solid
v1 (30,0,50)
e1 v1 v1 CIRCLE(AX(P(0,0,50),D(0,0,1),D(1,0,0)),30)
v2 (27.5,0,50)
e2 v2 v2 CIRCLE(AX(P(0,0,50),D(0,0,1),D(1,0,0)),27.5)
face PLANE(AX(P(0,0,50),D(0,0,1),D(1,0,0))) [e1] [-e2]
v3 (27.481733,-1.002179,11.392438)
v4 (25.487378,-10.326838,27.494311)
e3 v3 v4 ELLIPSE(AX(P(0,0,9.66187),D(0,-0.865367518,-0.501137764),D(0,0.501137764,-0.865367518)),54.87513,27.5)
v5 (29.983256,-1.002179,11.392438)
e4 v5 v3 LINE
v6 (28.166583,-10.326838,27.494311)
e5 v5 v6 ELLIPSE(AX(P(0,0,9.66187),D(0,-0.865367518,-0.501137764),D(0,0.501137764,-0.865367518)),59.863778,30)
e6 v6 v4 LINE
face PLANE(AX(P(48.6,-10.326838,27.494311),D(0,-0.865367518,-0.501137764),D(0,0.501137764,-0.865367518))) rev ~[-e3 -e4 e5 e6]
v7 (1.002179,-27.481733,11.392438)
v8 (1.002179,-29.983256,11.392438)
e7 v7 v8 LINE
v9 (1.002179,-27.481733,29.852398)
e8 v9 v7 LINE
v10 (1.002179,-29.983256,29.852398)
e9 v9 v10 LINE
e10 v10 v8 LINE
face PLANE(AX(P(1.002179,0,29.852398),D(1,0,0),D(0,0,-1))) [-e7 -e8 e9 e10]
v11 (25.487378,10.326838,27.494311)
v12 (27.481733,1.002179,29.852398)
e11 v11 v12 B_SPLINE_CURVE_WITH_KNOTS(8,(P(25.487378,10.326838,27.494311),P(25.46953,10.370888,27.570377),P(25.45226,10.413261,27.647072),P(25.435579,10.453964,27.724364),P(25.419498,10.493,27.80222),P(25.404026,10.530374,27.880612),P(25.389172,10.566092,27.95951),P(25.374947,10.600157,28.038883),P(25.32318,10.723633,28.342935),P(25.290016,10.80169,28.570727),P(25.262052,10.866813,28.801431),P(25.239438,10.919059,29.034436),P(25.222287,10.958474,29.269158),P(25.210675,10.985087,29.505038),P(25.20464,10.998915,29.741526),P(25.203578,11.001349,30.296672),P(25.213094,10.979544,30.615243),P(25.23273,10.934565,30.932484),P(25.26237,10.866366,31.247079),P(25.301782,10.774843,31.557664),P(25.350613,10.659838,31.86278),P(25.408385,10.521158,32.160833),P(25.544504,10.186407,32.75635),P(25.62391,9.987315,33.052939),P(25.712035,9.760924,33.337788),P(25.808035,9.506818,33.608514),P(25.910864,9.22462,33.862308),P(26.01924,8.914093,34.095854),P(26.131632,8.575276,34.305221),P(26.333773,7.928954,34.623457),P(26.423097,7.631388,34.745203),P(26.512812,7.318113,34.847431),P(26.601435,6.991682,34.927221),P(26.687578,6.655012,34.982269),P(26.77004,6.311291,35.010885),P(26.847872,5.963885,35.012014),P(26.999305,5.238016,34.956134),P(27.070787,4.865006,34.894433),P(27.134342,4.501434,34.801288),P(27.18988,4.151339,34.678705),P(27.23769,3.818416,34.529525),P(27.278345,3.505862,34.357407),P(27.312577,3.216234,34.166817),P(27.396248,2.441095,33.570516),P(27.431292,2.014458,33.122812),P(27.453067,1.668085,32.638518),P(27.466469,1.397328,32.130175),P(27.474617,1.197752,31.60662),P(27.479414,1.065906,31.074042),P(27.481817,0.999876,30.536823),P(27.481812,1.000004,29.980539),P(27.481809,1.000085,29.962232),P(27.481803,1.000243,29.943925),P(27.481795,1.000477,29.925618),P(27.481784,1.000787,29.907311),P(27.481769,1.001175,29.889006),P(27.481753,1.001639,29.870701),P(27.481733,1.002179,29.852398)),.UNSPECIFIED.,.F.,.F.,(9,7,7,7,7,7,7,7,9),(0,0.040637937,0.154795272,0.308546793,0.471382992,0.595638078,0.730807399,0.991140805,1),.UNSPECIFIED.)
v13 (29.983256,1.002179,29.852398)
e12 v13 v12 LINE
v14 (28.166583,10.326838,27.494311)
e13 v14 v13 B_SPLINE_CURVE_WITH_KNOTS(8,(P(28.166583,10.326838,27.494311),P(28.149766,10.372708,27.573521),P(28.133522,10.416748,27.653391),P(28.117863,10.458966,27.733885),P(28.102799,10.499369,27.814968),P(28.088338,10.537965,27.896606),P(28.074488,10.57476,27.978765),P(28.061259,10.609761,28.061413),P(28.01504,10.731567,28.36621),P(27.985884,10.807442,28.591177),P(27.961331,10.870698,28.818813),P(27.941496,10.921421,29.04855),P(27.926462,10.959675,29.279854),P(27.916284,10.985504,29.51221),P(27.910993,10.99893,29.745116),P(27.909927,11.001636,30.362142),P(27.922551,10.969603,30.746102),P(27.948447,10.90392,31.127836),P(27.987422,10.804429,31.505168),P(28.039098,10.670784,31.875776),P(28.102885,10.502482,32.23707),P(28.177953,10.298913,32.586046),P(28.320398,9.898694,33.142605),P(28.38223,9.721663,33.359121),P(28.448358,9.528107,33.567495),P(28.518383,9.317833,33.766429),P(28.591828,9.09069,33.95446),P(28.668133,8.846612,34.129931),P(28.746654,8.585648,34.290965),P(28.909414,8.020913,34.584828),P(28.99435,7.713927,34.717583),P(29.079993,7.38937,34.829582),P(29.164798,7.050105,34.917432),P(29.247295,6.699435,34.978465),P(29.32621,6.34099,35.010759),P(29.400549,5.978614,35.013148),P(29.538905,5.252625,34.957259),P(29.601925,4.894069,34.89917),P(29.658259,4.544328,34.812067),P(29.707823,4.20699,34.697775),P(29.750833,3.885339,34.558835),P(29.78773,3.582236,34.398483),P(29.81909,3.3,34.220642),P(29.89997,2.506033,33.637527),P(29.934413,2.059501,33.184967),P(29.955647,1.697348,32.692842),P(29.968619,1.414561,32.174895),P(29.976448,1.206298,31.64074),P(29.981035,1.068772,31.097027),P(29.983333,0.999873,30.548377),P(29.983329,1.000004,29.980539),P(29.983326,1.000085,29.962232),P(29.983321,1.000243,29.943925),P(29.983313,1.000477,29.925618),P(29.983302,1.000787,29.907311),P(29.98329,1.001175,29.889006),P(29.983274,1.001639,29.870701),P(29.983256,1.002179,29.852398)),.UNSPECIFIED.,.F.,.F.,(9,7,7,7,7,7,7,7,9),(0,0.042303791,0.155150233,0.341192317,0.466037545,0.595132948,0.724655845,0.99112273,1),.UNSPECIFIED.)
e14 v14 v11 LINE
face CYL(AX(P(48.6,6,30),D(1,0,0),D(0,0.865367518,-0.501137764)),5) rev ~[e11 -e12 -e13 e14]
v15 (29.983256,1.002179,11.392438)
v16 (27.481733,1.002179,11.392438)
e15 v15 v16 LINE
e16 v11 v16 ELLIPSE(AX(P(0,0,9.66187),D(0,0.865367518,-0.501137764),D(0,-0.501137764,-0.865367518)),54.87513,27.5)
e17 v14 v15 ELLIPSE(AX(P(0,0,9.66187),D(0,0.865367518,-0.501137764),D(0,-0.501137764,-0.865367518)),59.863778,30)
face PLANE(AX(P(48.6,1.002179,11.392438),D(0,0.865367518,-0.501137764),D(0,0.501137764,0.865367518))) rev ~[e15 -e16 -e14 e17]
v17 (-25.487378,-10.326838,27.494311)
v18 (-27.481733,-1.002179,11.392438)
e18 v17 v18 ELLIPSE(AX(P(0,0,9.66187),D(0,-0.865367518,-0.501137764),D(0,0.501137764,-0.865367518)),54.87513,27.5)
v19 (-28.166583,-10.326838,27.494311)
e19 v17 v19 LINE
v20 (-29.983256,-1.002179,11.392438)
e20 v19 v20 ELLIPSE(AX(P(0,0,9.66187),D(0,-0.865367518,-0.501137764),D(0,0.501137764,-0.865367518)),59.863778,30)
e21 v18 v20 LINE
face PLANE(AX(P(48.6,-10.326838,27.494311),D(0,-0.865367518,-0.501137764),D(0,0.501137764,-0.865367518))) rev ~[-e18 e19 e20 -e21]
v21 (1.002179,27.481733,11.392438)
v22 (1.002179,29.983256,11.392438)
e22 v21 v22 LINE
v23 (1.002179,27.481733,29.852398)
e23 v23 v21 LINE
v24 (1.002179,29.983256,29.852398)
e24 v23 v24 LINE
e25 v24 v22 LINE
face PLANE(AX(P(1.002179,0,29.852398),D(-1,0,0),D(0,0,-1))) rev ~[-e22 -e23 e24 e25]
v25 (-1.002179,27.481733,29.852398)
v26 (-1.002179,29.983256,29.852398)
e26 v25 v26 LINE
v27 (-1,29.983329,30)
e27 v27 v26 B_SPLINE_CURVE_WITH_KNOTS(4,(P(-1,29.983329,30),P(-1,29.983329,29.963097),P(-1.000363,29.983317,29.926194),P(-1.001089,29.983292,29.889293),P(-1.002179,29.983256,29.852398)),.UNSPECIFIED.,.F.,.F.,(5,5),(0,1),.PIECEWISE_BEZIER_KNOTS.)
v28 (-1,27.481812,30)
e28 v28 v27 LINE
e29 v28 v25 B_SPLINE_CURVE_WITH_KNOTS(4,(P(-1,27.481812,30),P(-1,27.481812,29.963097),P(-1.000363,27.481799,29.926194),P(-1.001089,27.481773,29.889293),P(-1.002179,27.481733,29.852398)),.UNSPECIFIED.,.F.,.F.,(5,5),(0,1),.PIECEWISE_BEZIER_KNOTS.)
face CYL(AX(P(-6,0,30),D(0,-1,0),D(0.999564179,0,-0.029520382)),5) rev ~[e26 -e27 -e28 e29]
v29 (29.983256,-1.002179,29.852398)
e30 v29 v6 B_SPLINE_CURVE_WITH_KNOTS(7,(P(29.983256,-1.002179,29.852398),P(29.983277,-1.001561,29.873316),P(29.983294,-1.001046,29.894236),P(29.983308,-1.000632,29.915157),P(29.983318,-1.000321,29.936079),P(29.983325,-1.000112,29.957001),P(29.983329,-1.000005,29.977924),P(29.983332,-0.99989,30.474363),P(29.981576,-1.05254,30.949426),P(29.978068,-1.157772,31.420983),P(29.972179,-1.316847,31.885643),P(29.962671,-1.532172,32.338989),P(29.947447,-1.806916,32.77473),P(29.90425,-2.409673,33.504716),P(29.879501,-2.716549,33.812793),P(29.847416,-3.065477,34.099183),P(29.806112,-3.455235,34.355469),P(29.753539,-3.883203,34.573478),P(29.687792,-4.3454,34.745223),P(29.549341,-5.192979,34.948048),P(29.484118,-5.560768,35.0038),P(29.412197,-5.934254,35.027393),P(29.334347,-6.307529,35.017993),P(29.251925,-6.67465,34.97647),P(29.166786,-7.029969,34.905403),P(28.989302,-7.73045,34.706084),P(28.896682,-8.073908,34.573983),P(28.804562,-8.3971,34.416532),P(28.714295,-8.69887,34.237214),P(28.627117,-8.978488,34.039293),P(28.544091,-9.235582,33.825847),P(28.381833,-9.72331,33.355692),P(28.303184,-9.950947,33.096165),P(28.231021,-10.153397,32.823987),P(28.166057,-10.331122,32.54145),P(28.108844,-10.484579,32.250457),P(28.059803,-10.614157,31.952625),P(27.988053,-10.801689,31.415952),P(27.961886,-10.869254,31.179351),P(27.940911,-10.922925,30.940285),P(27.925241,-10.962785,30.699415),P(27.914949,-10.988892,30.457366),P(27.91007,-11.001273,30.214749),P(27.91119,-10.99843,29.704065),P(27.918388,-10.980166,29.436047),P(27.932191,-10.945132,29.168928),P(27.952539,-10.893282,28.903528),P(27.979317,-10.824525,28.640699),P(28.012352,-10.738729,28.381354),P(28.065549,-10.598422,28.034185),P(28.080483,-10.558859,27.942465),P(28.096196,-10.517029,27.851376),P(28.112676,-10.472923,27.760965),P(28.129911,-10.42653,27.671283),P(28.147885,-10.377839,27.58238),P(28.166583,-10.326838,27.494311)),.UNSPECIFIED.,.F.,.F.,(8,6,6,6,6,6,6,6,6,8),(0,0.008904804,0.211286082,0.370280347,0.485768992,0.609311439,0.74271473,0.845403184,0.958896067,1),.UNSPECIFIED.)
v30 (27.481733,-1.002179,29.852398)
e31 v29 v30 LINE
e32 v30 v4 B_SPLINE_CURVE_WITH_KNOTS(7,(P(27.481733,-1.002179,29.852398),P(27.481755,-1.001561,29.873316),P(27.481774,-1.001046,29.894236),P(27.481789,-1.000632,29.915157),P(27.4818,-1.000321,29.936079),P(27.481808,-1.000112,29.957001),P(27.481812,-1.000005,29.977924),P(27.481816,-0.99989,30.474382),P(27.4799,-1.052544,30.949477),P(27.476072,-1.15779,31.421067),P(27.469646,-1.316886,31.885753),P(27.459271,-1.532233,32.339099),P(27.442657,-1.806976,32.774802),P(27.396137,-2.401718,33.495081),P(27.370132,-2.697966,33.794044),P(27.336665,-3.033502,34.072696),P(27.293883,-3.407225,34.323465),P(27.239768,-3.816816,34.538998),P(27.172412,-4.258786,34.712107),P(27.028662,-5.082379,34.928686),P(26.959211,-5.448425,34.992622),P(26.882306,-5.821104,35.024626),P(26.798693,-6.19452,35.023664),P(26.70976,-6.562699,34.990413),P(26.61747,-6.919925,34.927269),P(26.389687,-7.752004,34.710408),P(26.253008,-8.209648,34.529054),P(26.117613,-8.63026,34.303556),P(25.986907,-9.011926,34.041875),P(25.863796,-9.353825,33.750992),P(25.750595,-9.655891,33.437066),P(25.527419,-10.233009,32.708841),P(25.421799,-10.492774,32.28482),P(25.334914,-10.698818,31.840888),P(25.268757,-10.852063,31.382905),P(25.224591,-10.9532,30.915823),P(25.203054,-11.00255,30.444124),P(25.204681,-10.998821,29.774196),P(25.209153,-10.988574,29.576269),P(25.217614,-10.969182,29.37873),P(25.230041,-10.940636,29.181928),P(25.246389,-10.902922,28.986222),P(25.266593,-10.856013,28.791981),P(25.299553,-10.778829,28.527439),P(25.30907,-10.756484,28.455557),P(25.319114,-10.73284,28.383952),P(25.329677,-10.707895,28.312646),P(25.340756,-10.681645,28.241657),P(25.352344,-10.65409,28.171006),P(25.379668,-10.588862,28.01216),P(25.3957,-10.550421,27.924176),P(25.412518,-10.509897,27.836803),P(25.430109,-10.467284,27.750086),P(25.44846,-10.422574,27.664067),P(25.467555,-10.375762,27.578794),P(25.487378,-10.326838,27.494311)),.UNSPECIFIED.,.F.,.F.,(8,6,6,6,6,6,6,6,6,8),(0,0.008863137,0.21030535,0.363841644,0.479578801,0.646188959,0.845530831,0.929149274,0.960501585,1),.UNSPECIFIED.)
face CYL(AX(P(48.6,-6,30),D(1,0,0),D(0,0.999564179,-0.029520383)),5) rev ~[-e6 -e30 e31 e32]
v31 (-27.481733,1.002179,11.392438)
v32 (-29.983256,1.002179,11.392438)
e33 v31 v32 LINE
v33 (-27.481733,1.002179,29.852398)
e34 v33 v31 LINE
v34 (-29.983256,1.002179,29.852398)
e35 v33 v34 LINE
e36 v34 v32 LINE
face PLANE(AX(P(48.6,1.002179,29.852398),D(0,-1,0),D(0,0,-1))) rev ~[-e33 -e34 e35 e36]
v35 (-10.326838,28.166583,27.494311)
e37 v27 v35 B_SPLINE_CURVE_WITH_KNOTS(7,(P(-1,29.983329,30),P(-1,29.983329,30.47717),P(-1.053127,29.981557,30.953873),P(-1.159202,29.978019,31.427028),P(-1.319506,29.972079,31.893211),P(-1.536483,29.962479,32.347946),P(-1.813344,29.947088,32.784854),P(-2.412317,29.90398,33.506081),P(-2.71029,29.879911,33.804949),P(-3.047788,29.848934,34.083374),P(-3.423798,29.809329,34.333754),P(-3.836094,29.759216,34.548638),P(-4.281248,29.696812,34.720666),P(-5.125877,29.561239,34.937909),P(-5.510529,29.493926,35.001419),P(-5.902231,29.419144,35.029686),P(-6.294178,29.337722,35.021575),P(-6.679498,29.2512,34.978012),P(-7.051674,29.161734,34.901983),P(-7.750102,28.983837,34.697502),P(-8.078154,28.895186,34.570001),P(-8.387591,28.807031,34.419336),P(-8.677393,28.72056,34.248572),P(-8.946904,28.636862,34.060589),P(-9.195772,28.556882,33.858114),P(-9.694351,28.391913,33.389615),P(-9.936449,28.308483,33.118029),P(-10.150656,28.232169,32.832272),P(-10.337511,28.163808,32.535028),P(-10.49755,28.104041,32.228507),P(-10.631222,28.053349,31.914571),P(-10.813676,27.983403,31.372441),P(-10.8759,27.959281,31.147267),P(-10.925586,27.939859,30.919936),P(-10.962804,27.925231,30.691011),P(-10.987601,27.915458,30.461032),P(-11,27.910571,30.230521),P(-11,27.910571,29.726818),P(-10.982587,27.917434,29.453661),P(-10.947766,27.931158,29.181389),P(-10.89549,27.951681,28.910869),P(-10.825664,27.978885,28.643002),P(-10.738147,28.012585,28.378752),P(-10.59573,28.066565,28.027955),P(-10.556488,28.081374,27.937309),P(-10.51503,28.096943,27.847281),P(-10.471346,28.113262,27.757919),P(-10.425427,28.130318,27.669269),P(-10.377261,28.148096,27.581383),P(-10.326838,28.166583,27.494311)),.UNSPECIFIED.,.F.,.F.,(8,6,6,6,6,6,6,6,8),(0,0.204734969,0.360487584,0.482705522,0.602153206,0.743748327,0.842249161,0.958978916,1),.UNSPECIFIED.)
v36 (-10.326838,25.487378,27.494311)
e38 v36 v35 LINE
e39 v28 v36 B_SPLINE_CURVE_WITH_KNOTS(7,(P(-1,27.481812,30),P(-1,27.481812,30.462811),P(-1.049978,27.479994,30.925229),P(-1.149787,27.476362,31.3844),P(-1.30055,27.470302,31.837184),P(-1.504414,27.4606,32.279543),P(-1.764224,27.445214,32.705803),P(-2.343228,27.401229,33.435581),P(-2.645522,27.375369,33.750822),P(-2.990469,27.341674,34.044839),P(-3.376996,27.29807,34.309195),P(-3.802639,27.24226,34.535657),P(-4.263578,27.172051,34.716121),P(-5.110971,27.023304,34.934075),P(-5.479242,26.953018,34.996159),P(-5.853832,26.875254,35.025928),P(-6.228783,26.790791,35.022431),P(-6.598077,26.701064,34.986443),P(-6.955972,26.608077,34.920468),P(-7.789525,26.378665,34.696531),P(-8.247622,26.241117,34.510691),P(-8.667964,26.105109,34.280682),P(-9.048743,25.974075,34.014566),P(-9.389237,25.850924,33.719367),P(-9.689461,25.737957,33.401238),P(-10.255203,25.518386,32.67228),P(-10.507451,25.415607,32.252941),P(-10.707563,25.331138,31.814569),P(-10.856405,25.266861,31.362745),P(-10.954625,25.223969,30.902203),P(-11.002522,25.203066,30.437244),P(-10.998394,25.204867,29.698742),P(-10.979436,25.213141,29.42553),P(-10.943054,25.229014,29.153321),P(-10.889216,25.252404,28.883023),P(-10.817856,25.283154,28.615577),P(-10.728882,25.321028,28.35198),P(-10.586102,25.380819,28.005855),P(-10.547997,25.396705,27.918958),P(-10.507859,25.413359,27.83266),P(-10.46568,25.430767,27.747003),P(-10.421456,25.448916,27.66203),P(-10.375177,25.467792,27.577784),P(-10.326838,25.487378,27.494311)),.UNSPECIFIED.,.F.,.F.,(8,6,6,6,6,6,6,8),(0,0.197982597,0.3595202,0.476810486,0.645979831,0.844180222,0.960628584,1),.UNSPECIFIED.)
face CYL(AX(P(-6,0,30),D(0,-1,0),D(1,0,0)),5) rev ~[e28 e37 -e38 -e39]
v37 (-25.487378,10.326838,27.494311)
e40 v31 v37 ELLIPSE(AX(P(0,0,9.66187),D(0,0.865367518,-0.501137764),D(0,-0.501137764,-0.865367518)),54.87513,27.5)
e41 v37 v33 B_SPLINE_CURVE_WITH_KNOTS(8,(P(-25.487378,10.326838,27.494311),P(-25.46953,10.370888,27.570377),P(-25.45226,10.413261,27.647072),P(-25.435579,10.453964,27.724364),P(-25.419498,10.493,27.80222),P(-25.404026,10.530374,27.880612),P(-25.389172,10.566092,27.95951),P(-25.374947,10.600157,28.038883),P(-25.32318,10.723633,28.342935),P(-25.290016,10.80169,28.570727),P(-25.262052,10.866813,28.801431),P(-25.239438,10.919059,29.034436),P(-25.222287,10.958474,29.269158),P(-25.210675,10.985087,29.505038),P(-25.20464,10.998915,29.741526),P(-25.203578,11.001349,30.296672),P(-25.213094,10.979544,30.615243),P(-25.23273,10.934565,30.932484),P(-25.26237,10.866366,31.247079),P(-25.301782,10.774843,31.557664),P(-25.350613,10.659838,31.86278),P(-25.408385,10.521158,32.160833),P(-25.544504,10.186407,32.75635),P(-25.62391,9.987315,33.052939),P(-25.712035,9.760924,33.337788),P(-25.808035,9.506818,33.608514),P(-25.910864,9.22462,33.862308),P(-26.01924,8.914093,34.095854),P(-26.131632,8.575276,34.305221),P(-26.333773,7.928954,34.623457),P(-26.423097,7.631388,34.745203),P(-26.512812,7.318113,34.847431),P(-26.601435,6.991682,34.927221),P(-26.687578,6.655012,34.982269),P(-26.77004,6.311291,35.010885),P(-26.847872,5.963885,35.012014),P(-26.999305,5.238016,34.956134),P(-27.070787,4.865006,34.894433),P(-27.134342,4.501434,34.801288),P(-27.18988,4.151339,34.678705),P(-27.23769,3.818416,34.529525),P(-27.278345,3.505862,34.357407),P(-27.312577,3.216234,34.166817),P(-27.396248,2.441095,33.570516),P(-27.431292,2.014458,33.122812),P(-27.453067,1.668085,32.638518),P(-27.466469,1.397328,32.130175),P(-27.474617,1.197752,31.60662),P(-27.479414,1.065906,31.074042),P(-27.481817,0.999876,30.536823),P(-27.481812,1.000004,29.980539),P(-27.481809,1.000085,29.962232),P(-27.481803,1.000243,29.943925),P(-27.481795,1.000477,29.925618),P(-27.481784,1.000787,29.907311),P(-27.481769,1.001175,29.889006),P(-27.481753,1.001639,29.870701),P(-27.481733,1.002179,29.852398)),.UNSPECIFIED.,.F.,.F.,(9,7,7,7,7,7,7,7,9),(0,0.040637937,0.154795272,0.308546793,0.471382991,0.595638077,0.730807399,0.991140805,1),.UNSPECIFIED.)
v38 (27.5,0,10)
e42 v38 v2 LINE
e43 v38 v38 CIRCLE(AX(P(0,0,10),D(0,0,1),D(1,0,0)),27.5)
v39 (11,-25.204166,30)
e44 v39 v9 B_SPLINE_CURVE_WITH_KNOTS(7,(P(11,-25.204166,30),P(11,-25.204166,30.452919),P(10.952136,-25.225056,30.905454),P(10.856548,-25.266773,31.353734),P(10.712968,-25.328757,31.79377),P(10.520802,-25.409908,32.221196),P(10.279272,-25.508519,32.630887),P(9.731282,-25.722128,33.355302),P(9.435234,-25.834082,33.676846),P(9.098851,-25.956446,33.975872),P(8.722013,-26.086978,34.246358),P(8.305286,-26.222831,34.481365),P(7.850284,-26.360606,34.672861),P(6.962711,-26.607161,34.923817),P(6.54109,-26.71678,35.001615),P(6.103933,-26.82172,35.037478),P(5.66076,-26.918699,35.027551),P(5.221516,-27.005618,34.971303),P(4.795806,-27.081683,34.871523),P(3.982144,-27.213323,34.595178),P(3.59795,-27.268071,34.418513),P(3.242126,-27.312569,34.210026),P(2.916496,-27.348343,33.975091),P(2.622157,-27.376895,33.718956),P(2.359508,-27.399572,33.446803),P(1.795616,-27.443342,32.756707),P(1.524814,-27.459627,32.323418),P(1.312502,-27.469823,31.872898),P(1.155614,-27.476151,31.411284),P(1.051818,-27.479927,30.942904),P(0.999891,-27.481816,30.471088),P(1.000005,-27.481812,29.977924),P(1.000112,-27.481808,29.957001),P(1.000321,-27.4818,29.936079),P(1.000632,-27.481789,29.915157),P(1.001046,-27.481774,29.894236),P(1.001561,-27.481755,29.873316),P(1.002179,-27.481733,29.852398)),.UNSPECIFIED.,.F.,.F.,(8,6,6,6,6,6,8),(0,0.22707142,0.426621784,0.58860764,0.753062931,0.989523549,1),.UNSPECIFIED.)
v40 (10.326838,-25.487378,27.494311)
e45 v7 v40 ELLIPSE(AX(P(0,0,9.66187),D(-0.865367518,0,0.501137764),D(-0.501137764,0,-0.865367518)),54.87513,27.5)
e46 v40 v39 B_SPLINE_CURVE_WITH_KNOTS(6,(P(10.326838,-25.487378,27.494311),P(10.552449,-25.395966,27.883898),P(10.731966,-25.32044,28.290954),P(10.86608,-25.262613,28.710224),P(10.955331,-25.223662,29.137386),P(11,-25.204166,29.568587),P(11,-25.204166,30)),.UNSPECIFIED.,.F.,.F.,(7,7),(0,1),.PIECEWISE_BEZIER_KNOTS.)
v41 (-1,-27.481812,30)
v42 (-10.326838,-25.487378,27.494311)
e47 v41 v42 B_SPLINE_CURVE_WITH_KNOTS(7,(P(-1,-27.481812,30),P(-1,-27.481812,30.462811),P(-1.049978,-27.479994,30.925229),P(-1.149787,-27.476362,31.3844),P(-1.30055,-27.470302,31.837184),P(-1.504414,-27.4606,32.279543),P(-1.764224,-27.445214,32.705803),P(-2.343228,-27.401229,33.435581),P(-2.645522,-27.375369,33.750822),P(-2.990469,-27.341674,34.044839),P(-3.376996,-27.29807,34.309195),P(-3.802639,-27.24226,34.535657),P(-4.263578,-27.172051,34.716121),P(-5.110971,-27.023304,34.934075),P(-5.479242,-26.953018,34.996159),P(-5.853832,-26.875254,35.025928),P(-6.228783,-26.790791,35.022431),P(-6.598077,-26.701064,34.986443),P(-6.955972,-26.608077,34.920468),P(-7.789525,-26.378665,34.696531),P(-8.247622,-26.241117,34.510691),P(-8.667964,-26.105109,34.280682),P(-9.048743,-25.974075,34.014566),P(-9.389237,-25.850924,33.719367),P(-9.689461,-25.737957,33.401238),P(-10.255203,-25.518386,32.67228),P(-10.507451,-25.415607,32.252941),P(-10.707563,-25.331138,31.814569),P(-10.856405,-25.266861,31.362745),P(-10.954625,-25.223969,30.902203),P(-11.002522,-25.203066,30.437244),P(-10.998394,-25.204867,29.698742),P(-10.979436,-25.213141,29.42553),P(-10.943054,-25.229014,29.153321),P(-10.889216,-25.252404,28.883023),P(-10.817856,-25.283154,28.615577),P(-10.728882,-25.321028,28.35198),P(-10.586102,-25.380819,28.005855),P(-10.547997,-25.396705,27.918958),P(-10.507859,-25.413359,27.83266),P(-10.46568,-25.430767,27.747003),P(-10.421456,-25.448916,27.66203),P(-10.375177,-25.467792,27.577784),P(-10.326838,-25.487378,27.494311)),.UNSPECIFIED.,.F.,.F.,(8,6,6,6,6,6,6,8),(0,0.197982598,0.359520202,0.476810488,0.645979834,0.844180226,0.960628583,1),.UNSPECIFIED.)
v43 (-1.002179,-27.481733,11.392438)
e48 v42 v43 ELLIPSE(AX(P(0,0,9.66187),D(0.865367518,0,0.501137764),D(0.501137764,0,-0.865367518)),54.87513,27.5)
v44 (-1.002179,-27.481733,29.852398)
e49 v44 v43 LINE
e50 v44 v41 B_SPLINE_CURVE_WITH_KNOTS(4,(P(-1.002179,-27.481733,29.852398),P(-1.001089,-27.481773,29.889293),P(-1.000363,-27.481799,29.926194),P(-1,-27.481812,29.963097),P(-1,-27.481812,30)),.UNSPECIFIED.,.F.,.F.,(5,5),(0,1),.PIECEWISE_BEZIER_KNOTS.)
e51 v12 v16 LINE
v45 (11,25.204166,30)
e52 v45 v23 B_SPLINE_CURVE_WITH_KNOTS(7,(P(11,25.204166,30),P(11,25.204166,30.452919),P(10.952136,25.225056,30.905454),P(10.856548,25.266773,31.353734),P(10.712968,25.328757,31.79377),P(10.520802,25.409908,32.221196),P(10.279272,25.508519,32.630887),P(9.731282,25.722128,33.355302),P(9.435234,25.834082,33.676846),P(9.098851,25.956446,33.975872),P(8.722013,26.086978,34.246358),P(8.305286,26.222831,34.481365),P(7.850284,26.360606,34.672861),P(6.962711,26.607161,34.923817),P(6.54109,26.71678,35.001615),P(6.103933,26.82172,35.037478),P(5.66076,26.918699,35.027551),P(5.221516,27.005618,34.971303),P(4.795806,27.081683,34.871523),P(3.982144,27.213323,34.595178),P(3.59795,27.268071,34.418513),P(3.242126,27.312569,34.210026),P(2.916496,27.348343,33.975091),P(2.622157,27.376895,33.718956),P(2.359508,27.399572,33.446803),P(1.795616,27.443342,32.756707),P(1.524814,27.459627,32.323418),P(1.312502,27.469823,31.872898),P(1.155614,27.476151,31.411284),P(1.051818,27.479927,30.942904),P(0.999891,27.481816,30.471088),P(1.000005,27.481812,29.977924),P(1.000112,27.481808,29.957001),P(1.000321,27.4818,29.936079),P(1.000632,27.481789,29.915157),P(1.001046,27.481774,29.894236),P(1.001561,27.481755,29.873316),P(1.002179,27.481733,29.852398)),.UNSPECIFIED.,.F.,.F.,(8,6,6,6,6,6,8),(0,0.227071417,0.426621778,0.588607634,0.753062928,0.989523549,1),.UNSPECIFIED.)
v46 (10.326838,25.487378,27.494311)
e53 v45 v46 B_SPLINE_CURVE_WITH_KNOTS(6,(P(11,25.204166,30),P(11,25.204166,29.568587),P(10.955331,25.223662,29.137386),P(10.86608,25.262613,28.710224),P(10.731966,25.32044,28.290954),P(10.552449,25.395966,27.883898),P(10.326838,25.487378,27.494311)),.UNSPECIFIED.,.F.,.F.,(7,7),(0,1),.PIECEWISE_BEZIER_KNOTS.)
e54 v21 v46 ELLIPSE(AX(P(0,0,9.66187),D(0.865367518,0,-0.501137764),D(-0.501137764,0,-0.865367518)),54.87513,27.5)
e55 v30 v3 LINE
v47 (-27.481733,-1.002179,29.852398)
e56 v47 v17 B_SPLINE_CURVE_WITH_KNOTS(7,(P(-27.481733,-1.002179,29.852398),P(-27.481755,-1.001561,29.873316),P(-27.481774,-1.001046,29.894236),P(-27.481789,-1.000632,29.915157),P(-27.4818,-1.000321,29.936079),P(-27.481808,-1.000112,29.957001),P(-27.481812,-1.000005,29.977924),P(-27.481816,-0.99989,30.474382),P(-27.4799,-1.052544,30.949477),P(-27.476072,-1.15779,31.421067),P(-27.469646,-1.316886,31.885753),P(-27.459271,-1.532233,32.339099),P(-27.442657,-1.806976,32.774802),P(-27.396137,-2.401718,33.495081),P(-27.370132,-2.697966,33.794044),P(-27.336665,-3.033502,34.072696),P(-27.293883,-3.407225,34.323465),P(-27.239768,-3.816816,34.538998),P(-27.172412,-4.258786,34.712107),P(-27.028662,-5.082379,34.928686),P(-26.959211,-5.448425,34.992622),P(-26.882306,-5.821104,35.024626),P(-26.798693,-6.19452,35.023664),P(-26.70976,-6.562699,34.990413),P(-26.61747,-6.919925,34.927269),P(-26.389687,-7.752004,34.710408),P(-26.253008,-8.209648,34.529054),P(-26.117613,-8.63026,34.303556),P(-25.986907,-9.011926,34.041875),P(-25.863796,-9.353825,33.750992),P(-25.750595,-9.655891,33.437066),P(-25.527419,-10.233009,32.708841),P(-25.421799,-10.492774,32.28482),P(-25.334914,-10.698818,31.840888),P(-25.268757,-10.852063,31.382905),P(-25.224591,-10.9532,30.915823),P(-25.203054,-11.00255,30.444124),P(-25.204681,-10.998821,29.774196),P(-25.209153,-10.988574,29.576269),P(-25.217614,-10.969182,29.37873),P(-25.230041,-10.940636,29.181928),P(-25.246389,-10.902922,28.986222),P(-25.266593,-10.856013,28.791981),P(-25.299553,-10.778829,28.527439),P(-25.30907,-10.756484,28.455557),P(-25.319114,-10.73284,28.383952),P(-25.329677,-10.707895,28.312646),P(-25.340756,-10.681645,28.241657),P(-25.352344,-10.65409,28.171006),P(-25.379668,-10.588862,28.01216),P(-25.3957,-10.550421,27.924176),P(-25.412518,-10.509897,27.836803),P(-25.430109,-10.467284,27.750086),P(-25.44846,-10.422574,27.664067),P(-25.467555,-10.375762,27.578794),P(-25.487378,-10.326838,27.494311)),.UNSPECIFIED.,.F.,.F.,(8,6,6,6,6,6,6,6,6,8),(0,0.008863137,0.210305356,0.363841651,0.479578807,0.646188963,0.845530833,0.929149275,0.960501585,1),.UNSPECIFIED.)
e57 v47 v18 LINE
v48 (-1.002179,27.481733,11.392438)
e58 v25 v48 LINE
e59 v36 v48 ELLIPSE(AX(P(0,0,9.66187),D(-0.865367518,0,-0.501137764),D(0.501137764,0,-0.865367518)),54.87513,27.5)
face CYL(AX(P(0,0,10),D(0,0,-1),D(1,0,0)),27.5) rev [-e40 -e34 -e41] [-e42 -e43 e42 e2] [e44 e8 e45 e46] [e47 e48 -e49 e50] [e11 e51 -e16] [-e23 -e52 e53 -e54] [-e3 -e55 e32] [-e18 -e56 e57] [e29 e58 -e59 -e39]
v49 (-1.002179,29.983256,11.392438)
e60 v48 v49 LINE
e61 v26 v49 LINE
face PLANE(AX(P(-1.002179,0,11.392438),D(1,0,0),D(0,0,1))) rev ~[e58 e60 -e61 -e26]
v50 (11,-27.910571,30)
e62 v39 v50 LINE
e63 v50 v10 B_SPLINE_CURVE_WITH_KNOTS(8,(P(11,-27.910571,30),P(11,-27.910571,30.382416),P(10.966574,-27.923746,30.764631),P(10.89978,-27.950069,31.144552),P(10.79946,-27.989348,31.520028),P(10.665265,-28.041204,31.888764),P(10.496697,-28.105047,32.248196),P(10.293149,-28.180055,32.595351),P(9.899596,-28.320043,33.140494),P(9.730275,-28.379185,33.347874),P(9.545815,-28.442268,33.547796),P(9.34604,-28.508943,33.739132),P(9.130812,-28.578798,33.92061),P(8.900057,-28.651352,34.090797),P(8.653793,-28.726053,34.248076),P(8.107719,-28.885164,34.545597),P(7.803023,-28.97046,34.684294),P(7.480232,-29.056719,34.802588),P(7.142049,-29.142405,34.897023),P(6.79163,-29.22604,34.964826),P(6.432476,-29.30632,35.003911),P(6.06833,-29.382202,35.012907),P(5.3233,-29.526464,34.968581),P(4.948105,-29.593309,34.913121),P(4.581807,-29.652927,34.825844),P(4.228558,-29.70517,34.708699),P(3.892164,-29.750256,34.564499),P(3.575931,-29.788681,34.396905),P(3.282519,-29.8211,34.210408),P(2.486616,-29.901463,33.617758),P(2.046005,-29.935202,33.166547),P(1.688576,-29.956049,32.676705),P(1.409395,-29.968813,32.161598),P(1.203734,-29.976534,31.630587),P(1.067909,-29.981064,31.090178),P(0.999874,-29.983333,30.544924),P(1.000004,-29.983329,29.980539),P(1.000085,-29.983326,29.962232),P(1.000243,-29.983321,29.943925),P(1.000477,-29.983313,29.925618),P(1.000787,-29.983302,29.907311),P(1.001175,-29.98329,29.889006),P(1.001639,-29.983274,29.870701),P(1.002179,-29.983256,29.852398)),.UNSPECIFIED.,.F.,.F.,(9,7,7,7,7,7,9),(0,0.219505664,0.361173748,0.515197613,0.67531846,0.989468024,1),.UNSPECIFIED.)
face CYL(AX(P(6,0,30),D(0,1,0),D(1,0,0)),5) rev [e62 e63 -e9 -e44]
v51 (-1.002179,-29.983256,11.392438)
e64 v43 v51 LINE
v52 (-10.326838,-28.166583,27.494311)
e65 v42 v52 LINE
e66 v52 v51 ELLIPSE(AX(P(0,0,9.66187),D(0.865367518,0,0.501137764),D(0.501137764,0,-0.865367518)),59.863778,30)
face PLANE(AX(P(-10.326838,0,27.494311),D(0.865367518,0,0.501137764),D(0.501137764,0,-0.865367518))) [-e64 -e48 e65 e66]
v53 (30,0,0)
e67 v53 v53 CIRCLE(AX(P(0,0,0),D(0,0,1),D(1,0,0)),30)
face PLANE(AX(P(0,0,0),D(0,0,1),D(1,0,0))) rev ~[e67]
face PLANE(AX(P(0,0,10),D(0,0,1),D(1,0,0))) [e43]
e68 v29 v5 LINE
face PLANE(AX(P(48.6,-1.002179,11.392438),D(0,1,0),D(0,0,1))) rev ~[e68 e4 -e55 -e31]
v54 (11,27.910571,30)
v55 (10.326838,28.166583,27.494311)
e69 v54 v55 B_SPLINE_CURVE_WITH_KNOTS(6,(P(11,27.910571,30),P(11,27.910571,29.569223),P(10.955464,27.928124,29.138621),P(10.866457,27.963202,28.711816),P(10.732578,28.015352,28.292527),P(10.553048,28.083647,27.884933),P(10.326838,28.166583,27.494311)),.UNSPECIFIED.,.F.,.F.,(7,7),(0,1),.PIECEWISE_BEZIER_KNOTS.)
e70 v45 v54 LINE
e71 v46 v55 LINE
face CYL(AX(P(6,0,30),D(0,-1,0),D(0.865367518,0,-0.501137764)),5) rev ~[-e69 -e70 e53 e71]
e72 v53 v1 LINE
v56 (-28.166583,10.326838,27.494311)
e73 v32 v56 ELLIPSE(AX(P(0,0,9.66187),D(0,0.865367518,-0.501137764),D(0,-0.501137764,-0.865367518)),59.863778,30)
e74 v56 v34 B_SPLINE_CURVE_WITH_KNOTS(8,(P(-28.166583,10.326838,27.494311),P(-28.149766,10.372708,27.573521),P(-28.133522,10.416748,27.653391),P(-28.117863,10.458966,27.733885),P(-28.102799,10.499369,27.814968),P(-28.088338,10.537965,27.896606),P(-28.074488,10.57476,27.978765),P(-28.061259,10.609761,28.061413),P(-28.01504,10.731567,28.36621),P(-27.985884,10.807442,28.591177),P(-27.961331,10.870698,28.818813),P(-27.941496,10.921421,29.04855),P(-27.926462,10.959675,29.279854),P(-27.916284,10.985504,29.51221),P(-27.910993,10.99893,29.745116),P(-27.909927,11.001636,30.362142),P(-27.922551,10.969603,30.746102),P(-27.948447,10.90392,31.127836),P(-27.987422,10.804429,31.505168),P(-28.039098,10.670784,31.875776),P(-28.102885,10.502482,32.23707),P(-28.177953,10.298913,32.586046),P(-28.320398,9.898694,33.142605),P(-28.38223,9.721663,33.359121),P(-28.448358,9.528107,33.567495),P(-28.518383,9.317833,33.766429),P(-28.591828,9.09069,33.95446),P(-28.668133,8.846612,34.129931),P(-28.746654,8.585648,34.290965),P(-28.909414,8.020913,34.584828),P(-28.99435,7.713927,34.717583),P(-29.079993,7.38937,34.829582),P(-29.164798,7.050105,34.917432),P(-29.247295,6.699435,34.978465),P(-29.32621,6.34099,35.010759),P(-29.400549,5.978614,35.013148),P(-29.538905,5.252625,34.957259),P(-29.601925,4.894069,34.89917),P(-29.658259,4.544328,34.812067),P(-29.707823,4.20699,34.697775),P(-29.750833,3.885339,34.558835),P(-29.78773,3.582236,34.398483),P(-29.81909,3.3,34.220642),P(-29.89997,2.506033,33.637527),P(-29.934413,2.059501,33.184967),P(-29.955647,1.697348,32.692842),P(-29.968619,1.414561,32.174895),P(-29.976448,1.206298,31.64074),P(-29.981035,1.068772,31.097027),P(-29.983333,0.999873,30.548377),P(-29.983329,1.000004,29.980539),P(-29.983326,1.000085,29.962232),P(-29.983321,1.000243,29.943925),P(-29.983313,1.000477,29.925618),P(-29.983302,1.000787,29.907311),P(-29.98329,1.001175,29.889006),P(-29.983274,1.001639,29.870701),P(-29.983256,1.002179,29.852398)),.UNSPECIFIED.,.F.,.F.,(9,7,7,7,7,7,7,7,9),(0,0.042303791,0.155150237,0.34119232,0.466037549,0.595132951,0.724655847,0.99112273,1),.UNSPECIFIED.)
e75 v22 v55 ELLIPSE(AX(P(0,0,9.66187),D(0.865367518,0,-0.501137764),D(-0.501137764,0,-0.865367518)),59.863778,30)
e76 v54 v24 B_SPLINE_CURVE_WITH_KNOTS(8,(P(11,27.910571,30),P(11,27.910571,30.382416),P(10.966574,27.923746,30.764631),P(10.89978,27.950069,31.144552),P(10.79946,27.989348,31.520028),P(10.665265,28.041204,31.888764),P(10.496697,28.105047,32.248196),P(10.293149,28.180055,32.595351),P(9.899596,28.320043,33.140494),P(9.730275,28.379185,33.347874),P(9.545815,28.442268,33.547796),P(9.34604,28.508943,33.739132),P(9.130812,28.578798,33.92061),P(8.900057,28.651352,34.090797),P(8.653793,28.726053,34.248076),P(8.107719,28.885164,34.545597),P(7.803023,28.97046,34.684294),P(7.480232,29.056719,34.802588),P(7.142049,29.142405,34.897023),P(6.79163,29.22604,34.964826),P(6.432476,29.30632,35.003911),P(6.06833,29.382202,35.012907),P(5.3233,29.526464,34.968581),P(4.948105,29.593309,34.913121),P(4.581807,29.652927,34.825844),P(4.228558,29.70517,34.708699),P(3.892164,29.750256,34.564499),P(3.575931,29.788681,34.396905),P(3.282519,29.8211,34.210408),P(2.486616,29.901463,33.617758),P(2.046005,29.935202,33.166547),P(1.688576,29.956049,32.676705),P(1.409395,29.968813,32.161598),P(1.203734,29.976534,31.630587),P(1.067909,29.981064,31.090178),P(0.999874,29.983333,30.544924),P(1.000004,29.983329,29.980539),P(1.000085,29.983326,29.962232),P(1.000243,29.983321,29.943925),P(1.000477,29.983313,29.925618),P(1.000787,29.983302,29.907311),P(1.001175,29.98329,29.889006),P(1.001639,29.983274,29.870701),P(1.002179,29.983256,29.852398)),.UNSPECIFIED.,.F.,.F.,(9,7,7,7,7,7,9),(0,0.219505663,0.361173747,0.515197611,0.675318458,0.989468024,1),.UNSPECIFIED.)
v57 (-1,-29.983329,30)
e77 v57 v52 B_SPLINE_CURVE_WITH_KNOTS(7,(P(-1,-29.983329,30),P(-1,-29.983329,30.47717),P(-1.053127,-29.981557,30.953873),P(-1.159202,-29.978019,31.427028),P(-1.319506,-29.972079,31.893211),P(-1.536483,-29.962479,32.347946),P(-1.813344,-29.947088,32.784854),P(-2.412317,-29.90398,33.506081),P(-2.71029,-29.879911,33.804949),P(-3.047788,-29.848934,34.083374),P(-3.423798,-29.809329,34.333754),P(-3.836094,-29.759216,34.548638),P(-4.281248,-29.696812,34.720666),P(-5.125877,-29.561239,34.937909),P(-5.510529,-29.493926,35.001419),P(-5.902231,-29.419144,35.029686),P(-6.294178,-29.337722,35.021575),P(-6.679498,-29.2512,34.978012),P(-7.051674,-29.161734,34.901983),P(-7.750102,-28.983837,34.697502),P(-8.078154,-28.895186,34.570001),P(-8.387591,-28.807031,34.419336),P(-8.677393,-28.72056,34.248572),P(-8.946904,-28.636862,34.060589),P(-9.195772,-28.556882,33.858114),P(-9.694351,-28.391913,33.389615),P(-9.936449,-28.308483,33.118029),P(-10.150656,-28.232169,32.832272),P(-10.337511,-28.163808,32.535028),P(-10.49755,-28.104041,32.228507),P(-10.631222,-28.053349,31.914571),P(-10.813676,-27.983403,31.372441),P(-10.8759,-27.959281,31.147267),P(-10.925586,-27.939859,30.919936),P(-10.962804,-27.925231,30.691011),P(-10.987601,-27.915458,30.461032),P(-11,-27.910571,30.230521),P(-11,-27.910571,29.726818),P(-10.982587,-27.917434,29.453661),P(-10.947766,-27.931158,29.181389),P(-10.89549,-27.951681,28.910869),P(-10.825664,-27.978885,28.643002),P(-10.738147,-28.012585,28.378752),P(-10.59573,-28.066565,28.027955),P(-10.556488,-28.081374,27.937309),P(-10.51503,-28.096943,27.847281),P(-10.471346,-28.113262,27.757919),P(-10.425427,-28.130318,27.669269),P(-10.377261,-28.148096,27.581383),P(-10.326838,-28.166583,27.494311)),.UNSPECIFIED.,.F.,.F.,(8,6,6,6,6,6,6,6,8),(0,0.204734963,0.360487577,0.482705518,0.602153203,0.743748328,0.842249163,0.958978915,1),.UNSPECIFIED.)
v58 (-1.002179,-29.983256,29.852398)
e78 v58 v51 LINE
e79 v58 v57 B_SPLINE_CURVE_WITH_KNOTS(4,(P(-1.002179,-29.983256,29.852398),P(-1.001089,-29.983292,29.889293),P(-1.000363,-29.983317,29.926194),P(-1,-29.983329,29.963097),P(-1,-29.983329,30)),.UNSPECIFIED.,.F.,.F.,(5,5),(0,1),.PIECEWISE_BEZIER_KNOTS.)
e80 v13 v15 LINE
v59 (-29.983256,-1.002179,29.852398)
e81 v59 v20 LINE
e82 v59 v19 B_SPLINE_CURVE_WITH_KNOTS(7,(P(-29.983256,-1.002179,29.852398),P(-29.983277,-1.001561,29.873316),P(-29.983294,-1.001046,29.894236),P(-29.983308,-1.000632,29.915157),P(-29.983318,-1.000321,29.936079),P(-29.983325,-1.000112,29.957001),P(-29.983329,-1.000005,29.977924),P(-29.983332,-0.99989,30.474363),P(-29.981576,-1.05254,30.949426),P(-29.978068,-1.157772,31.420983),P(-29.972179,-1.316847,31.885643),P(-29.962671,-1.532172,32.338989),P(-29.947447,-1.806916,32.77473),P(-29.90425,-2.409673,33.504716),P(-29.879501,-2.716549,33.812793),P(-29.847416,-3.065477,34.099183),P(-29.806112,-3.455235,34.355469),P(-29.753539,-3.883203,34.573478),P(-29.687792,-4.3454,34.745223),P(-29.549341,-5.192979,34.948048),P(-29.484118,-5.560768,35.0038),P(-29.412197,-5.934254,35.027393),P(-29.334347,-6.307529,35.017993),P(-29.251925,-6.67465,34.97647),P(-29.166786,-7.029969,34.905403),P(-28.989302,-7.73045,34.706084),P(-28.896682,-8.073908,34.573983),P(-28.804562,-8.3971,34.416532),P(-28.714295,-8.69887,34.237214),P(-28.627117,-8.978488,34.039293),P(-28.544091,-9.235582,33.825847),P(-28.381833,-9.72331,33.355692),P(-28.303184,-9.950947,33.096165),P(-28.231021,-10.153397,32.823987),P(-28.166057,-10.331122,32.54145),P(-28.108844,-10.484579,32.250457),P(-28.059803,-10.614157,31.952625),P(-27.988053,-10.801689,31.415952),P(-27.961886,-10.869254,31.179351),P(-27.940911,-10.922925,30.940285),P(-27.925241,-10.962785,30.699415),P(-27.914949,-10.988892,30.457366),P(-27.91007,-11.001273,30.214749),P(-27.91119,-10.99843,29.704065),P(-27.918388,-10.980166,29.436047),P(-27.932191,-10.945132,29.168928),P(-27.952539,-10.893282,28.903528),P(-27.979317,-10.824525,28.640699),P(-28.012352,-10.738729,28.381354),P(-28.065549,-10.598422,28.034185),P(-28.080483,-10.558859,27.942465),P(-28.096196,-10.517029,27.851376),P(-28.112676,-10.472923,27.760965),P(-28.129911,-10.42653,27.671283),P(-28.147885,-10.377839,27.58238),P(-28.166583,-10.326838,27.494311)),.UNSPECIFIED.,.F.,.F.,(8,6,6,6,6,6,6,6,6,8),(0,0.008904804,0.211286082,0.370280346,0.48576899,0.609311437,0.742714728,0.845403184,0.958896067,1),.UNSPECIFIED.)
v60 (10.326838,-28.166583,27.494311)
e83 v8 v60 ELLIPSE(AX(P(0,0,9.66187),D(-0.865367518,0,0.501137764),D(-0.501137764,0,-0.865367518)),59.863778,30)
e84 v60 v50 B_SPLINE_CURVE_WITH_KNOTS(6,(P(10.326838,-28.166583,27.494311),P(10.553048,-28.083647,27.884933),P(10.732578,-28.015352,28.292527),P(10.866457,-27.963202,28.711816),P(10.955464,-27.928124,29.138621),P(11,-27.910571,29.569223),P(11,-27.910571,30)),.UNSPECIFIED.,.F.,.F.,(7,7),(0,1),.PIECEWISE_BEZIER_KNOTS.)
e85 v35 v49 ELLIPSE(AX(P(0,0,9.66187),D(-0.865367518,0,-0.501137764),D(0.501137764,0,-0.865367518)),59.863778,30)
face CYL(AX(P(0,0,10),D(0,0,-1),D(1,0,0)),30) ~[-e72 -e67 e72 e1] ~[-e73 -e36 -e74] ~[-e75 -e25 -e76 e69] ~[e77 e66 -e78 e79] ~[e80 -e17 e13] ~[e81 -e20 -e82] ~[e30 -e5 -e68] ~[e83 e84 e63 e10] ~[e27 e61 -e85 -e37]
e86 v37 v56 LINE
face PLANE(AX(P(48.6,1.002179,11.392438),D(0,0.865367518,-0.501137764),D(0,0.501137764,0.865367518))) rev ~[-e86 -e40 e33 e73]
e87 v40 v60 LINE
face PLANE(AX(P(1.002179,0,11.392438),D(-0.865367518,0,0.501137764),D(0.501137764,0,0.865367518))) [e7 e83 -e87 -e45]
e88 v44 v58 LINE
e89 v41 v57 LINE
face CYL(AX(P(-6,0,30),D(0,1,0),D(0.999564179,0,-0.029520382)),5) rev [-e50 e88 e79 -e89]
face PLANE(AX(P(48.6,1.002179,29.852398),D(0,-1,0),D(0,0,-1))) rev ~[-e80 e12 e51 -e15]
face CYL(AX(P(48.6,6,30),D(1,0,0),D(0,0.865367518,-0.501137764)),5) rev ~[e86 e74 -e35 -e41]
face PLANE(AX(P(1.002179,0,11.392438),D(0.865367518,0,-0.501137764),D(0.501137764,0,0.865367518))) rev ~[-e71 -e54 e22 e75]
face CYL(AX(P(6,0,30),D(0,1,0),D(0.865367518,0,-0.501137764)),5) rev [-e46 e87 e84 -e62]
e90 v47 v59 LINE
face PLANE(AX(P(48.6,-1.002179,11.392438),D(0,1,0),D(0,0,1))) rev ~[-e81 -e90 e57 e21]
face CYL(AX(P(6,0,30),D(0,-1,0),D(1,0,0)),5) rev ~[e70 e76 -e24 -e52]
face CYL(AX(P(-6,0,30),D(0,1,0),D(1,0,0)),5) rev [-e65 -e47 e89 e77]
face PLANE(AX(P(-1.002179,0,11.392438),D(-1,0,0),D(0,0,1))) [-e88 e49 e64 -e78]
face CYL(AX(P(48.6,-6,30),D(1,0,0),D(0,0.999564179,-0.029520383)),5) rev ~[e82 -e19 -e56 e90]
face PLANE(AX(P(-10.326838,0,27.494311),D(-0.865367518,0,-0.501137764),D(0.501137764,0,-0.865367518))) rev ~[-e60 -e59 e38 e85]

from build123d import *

# Parameters (mm, degrees)
F0_R      = 30
F1_DEPTH  = 10
F2_R      = 30
F2_R_2    = 27.5
F3_DEPTH  = 40
F5_DEPTH  = 35
F6_DEPTH  = 35
F7_DEPTH  = 0.001
F8_ANGLE  = 90
F10_DEPTH = 100


with BuildPart() as f1:
    # F0 (on Top) → F1 (new body)
    with BuildSketch(Plane.XY):
        Circle(F0_R)
    extrude(amount=F1_DEPTH)

    # F2 (on face) → F3 (join)
    with BuildSketch(Plane.XY.offset(10)):
        Circle(F2_R)
        Circle(F2_R_2, mode=Mode.SUBTRACT)
    extrude(amount=F3_DEPTH)

    # F4 (on Front) → F5 (cut)
    with BuildSketch(Plane.XZ):
        with BuildLine():
            ThreePointArc((-1.0021791073, 29.8523980864), (-1.0005448065, 29.9261910009), (-1, 30))
            ThreePointArc((-1, 30), (-7.2972686774, 34.8287776899), (-10.3268375915, 27.4943111812))
            Line((-10.3268375915, 27.4943111812), (-1.0021791073, 29.8523980864))
        make_face()
        with BuildLine():
            Line((-1.0021791073, 29.8523980864), (-10.3268375915, 27.4943111812))
            ThreePointArc((-10.3268375915, 27.4943111812), (-4.7741541244, 25.1525984394), (-1.0021791073, 29.8523980864))
        make_face()
        with BuildLine():
            ThreePointArc((-1.0021791073, 29.8523980864), (-4.7741541244, 25.1525984394), (-10.3268375915, 27.4943111812))
            Line((-10.3268375915, 27.4943111812), (-1.0021791073, 11.3924382934))
            Line((-1.0021791073, 11.3924382934), (-1.0021791073, 29.8523980864))
        make_face()
        with BuildLine():
            ThreePointArc((10.3268375915, 27.4943111812), (10.8287776899, 28.7027313226), (11, 30))
            ThreePointArc((11, 30), (5.9261910009, 34.9994551935), (1.0021791073, 29.8523980864))
            Line((1.0021791073, 29.8523980864), (10.3268375915, 27.4943111812))
        make_face()
        with BuildLine():
            Line((10.3268375915, 27.4943111812), (1.0021791073, 29.8523980864))
            ThreePointArc((1.0021791073, 29.8523980864), (4.7741541244, 25.1525984394), (10.3268375915, 27.4943111812))
        make_face()
        with BuildLine():
            ThreePointArc((10.3268375915, 27.4943111812), (4.7741541244, 25.1525984394), (1.0021791073, 29.8523980864))
            Line((1.0021791073, 29.8523980864), (1.0021791073, 11.3924382934))
            Line((1.0021791073, 11.3924382934), (10.3268375915, 27.4943111812))
        make_face()
    extrude(amount=-F5_DEPTH, mode=Mode.SUBTRACT)

    # F4 (on Front) → F6 (cut)
    with BuildSketch(Plane.XZ):
        with BuildLine():
            ThreePointArc((10.3268375915, 27.4943111812), (10.8287776899, 28.7027313226), (11, 30))
            ThreePointArc((11, 30), (5.9261910009, 34.9994551935), (1.0021791073, 29.8523980864))
            Line((1.0021791073, 29.8523980864), (10.3268375915, 27.4943111812))
        make_face()
        with BuildLine():
            Line((10.3268375915, 27.4943111812), (1.0021791073, 29.8523980864))
            ThreePointArc((1.0021791073, 29.8523980864), (4.7741541244, 25.1525984394), (10.3268375915, 27.4943111812))
        make_face()
        with BuildLine():
            ThreePointArc((10.3268375915, 27.4943111812), (4.7741541244, 25.1525984394), (1.0021791073, 29.8523980864))
            Line((1.0021791073, 29.8523980864), (1.0021791073, 11.3924382934))
            Line((1.0021791073, 11.3924382934), (10.3268375915, 27.4943111812))
        make_face()
        with BuildLine():
            ThreePointArc((-1.0021791073, 29.8523980864), (-1.0005448065, 29.9261910009), (-1, 30))
            ThreePointArc((-1, 30), (-7.2972686774, 34.8287776899), (-10.3268375915, 27.4943111812))
            Line((-10.3268375915, 27.4943111812), (-1.0021791073, 29.8523980864))
        make_face()
        with BuildLine():
            Line((-1.0021791073, 29.8523980864), (-10.3268375915, 27.4943111812))
            ThreePointArc((-10.3268375915, 27.4943111812), (-4.7741541244, 25.1525984394), (-1.0021791073, 29.8523980864))
        make_face()
        with BuildLine():
            ThreePointArc((-1.0021791073, 29.8523980864), (-4.7741541244, 25.1525984394), (-10.3268375915, 27.4943111812))
            Line((-10.3268375915, 27.4943111812), (-1.0021791073, 11.3924382934))
            Line((-1.0021791073, 11.3924382934), (-1.0021791073, 29.8523980864))
        make_face()
    extrude(amount=F6_DEPTH, mode=Mode.SUBTRACT)


with BuildPart() as f7:
    # F4 (on Front) → F7 (new body)
    with BuildSketch(Plane.XZ):
        with BuildLine():
            ThreePointArc((10.3268375915, 27.4943111812), (10.8287776899, 28.7027313226), (11, 30))
            ThreePointArc((11, 30), (5.9261910009, 34.9994551935), (1.0021791073, 29.8523980864))
            Line((1.0021791073, 29.8523980864), (10.3268375915, 27.4943111812))
        make_face()
        with BuildLine():
            Line((10.3268375915, 27.4943111812), (1.0021791073, 29.8523980864))
            ThreePointArc((1.0021791073, 29.8523980864), (4.7741541244, 25.1525984394), (10.3268375915, 27.4943111812))
        make_face()
        with BuildLine():
            ThreePointArc((10.3268375915, 27.4943111812), (4.7741541244, 25.1525984394), (1.0021791073, 29.8523980864))
            Line((1.0021791073, 29.8523980864), (1.0021791073, 11.3924382934))
            Line((1.0021791073, 11.3924382934), (10.3268375915, 27.4943111812))
        make_face()
    extrude(amount=F7_DEPTH)


with BuildPart() as f7b:
    # F4 (on Front) → F7, piece 2 (new body)
    with BuildSketch(Plane.XZ):
        with BuildLine():
            ThreePointArc((-1.0021791073, 29.8523980864), (-1.0005448065, 29.9261910009), (-1, 30))
            ThreePointArc((-1, 30), (-7.2972686774, 34.8287776899), (-10.3268375915, 27.4943111812))
            Line((-10.3268375915, 27.4943111812), (-1.0021791073, 29.8523980864))
        make_face()
        with BuildLine():
            Line((-1.0021791073, 29.8523980864), (-10.3268375915, 27.4943111812))
            ThreePointArc((-10.3268375915, 27.4943111812), (-4.7741541244, 25.1525984394), (-1.0021791073, 29.8523980864))
        make_face()
        with BuildLine():
            ThreePointArc((-1.0021791073, 29.8523980864), (-4.7741541244, 25.1525984394), (-10.3268375915, 27.4943111812))
            Line((-10.3268375915, 27.4943111812), (-1.0021791073, 11.3924382934))
            Line((-1.0021791073, 11.3924382934), (-1.0021791073, 29.8523980864))
        make_face()
    extrude(amount=F7_DEPTH)


with BuildPart() as f7b_1:
    # F8: moved
    add(f7b.part.rotate(Axis((0, 0, 0), (0, 0, -1)), F8_ANGLE))


with BuildPart() as f7_1:
    # F8: moved
    add(f7.part.rotate(Axis((0, 0, 0), (0, 0, -1)), F8_ANGLE))


with BuildPart() as f7_2:
    # F9: moved
    add(f7_1.part.moved(Location((48.6, 0, 0))))


with BuildPart() as f7b_2:
    # F9: moved
    add(f7b_1.part.moved(Location((48.6, 0, 0))))


with BuildPart() as f10_tool:
    # F7_face (on face) → F10 (new body)
    with BuildSketch(Plane(origin=(48.6, -4.9596337945, 26.1247931076), x_dir=(0, 1, 0), z_dir=(1, 0, 0))):
        with BuildLine():
            Line((3.9574546871, -14.7323548142), (3.9574546871, 3.7276049788))
            ThreePointArc((3.9574546871, 3.7276049788), (-2.2662120811, 8.722608453), (-5.367203797, 1.3695180736))
            Line((-5.367203797, 1.3695180736), (3.9574546871, -14.7323548142))
        make_face()
        with BuildLine():
            Line((5.9618129018, -14.7323548142), (15.2864713859, 1.3695180736))
            ThreePointArc((15.2864713859, 1.3695180736), (12.18547967, 8.722608453), (5.9618129018, 3.7276049788))
            Line((5.9618129018, 3.7276049788), (5.9618129018, -14.7323548142))
        make_face()
    extrude(amount=-F10_DEPTH)


with BuildPart() as f1_1:
    add(f1.part)

    # F10: cut by f10_tool
    add(f10_tool.part, mode=Mode.SUBTRACT)


with BuildPart() as f7_3:
    add(f7_2.part)

    # F10: cut by f10_tool
    add(f10_tool.part, mode=Mode.SUBTRACT)


with BuildPart() as f7b_3:
    add(f7b_2.part)

    # F10: cut by f10_tool
    add(f10_tool.part, mode=Mode.SUBTRACT)


solid = f1_1.part
